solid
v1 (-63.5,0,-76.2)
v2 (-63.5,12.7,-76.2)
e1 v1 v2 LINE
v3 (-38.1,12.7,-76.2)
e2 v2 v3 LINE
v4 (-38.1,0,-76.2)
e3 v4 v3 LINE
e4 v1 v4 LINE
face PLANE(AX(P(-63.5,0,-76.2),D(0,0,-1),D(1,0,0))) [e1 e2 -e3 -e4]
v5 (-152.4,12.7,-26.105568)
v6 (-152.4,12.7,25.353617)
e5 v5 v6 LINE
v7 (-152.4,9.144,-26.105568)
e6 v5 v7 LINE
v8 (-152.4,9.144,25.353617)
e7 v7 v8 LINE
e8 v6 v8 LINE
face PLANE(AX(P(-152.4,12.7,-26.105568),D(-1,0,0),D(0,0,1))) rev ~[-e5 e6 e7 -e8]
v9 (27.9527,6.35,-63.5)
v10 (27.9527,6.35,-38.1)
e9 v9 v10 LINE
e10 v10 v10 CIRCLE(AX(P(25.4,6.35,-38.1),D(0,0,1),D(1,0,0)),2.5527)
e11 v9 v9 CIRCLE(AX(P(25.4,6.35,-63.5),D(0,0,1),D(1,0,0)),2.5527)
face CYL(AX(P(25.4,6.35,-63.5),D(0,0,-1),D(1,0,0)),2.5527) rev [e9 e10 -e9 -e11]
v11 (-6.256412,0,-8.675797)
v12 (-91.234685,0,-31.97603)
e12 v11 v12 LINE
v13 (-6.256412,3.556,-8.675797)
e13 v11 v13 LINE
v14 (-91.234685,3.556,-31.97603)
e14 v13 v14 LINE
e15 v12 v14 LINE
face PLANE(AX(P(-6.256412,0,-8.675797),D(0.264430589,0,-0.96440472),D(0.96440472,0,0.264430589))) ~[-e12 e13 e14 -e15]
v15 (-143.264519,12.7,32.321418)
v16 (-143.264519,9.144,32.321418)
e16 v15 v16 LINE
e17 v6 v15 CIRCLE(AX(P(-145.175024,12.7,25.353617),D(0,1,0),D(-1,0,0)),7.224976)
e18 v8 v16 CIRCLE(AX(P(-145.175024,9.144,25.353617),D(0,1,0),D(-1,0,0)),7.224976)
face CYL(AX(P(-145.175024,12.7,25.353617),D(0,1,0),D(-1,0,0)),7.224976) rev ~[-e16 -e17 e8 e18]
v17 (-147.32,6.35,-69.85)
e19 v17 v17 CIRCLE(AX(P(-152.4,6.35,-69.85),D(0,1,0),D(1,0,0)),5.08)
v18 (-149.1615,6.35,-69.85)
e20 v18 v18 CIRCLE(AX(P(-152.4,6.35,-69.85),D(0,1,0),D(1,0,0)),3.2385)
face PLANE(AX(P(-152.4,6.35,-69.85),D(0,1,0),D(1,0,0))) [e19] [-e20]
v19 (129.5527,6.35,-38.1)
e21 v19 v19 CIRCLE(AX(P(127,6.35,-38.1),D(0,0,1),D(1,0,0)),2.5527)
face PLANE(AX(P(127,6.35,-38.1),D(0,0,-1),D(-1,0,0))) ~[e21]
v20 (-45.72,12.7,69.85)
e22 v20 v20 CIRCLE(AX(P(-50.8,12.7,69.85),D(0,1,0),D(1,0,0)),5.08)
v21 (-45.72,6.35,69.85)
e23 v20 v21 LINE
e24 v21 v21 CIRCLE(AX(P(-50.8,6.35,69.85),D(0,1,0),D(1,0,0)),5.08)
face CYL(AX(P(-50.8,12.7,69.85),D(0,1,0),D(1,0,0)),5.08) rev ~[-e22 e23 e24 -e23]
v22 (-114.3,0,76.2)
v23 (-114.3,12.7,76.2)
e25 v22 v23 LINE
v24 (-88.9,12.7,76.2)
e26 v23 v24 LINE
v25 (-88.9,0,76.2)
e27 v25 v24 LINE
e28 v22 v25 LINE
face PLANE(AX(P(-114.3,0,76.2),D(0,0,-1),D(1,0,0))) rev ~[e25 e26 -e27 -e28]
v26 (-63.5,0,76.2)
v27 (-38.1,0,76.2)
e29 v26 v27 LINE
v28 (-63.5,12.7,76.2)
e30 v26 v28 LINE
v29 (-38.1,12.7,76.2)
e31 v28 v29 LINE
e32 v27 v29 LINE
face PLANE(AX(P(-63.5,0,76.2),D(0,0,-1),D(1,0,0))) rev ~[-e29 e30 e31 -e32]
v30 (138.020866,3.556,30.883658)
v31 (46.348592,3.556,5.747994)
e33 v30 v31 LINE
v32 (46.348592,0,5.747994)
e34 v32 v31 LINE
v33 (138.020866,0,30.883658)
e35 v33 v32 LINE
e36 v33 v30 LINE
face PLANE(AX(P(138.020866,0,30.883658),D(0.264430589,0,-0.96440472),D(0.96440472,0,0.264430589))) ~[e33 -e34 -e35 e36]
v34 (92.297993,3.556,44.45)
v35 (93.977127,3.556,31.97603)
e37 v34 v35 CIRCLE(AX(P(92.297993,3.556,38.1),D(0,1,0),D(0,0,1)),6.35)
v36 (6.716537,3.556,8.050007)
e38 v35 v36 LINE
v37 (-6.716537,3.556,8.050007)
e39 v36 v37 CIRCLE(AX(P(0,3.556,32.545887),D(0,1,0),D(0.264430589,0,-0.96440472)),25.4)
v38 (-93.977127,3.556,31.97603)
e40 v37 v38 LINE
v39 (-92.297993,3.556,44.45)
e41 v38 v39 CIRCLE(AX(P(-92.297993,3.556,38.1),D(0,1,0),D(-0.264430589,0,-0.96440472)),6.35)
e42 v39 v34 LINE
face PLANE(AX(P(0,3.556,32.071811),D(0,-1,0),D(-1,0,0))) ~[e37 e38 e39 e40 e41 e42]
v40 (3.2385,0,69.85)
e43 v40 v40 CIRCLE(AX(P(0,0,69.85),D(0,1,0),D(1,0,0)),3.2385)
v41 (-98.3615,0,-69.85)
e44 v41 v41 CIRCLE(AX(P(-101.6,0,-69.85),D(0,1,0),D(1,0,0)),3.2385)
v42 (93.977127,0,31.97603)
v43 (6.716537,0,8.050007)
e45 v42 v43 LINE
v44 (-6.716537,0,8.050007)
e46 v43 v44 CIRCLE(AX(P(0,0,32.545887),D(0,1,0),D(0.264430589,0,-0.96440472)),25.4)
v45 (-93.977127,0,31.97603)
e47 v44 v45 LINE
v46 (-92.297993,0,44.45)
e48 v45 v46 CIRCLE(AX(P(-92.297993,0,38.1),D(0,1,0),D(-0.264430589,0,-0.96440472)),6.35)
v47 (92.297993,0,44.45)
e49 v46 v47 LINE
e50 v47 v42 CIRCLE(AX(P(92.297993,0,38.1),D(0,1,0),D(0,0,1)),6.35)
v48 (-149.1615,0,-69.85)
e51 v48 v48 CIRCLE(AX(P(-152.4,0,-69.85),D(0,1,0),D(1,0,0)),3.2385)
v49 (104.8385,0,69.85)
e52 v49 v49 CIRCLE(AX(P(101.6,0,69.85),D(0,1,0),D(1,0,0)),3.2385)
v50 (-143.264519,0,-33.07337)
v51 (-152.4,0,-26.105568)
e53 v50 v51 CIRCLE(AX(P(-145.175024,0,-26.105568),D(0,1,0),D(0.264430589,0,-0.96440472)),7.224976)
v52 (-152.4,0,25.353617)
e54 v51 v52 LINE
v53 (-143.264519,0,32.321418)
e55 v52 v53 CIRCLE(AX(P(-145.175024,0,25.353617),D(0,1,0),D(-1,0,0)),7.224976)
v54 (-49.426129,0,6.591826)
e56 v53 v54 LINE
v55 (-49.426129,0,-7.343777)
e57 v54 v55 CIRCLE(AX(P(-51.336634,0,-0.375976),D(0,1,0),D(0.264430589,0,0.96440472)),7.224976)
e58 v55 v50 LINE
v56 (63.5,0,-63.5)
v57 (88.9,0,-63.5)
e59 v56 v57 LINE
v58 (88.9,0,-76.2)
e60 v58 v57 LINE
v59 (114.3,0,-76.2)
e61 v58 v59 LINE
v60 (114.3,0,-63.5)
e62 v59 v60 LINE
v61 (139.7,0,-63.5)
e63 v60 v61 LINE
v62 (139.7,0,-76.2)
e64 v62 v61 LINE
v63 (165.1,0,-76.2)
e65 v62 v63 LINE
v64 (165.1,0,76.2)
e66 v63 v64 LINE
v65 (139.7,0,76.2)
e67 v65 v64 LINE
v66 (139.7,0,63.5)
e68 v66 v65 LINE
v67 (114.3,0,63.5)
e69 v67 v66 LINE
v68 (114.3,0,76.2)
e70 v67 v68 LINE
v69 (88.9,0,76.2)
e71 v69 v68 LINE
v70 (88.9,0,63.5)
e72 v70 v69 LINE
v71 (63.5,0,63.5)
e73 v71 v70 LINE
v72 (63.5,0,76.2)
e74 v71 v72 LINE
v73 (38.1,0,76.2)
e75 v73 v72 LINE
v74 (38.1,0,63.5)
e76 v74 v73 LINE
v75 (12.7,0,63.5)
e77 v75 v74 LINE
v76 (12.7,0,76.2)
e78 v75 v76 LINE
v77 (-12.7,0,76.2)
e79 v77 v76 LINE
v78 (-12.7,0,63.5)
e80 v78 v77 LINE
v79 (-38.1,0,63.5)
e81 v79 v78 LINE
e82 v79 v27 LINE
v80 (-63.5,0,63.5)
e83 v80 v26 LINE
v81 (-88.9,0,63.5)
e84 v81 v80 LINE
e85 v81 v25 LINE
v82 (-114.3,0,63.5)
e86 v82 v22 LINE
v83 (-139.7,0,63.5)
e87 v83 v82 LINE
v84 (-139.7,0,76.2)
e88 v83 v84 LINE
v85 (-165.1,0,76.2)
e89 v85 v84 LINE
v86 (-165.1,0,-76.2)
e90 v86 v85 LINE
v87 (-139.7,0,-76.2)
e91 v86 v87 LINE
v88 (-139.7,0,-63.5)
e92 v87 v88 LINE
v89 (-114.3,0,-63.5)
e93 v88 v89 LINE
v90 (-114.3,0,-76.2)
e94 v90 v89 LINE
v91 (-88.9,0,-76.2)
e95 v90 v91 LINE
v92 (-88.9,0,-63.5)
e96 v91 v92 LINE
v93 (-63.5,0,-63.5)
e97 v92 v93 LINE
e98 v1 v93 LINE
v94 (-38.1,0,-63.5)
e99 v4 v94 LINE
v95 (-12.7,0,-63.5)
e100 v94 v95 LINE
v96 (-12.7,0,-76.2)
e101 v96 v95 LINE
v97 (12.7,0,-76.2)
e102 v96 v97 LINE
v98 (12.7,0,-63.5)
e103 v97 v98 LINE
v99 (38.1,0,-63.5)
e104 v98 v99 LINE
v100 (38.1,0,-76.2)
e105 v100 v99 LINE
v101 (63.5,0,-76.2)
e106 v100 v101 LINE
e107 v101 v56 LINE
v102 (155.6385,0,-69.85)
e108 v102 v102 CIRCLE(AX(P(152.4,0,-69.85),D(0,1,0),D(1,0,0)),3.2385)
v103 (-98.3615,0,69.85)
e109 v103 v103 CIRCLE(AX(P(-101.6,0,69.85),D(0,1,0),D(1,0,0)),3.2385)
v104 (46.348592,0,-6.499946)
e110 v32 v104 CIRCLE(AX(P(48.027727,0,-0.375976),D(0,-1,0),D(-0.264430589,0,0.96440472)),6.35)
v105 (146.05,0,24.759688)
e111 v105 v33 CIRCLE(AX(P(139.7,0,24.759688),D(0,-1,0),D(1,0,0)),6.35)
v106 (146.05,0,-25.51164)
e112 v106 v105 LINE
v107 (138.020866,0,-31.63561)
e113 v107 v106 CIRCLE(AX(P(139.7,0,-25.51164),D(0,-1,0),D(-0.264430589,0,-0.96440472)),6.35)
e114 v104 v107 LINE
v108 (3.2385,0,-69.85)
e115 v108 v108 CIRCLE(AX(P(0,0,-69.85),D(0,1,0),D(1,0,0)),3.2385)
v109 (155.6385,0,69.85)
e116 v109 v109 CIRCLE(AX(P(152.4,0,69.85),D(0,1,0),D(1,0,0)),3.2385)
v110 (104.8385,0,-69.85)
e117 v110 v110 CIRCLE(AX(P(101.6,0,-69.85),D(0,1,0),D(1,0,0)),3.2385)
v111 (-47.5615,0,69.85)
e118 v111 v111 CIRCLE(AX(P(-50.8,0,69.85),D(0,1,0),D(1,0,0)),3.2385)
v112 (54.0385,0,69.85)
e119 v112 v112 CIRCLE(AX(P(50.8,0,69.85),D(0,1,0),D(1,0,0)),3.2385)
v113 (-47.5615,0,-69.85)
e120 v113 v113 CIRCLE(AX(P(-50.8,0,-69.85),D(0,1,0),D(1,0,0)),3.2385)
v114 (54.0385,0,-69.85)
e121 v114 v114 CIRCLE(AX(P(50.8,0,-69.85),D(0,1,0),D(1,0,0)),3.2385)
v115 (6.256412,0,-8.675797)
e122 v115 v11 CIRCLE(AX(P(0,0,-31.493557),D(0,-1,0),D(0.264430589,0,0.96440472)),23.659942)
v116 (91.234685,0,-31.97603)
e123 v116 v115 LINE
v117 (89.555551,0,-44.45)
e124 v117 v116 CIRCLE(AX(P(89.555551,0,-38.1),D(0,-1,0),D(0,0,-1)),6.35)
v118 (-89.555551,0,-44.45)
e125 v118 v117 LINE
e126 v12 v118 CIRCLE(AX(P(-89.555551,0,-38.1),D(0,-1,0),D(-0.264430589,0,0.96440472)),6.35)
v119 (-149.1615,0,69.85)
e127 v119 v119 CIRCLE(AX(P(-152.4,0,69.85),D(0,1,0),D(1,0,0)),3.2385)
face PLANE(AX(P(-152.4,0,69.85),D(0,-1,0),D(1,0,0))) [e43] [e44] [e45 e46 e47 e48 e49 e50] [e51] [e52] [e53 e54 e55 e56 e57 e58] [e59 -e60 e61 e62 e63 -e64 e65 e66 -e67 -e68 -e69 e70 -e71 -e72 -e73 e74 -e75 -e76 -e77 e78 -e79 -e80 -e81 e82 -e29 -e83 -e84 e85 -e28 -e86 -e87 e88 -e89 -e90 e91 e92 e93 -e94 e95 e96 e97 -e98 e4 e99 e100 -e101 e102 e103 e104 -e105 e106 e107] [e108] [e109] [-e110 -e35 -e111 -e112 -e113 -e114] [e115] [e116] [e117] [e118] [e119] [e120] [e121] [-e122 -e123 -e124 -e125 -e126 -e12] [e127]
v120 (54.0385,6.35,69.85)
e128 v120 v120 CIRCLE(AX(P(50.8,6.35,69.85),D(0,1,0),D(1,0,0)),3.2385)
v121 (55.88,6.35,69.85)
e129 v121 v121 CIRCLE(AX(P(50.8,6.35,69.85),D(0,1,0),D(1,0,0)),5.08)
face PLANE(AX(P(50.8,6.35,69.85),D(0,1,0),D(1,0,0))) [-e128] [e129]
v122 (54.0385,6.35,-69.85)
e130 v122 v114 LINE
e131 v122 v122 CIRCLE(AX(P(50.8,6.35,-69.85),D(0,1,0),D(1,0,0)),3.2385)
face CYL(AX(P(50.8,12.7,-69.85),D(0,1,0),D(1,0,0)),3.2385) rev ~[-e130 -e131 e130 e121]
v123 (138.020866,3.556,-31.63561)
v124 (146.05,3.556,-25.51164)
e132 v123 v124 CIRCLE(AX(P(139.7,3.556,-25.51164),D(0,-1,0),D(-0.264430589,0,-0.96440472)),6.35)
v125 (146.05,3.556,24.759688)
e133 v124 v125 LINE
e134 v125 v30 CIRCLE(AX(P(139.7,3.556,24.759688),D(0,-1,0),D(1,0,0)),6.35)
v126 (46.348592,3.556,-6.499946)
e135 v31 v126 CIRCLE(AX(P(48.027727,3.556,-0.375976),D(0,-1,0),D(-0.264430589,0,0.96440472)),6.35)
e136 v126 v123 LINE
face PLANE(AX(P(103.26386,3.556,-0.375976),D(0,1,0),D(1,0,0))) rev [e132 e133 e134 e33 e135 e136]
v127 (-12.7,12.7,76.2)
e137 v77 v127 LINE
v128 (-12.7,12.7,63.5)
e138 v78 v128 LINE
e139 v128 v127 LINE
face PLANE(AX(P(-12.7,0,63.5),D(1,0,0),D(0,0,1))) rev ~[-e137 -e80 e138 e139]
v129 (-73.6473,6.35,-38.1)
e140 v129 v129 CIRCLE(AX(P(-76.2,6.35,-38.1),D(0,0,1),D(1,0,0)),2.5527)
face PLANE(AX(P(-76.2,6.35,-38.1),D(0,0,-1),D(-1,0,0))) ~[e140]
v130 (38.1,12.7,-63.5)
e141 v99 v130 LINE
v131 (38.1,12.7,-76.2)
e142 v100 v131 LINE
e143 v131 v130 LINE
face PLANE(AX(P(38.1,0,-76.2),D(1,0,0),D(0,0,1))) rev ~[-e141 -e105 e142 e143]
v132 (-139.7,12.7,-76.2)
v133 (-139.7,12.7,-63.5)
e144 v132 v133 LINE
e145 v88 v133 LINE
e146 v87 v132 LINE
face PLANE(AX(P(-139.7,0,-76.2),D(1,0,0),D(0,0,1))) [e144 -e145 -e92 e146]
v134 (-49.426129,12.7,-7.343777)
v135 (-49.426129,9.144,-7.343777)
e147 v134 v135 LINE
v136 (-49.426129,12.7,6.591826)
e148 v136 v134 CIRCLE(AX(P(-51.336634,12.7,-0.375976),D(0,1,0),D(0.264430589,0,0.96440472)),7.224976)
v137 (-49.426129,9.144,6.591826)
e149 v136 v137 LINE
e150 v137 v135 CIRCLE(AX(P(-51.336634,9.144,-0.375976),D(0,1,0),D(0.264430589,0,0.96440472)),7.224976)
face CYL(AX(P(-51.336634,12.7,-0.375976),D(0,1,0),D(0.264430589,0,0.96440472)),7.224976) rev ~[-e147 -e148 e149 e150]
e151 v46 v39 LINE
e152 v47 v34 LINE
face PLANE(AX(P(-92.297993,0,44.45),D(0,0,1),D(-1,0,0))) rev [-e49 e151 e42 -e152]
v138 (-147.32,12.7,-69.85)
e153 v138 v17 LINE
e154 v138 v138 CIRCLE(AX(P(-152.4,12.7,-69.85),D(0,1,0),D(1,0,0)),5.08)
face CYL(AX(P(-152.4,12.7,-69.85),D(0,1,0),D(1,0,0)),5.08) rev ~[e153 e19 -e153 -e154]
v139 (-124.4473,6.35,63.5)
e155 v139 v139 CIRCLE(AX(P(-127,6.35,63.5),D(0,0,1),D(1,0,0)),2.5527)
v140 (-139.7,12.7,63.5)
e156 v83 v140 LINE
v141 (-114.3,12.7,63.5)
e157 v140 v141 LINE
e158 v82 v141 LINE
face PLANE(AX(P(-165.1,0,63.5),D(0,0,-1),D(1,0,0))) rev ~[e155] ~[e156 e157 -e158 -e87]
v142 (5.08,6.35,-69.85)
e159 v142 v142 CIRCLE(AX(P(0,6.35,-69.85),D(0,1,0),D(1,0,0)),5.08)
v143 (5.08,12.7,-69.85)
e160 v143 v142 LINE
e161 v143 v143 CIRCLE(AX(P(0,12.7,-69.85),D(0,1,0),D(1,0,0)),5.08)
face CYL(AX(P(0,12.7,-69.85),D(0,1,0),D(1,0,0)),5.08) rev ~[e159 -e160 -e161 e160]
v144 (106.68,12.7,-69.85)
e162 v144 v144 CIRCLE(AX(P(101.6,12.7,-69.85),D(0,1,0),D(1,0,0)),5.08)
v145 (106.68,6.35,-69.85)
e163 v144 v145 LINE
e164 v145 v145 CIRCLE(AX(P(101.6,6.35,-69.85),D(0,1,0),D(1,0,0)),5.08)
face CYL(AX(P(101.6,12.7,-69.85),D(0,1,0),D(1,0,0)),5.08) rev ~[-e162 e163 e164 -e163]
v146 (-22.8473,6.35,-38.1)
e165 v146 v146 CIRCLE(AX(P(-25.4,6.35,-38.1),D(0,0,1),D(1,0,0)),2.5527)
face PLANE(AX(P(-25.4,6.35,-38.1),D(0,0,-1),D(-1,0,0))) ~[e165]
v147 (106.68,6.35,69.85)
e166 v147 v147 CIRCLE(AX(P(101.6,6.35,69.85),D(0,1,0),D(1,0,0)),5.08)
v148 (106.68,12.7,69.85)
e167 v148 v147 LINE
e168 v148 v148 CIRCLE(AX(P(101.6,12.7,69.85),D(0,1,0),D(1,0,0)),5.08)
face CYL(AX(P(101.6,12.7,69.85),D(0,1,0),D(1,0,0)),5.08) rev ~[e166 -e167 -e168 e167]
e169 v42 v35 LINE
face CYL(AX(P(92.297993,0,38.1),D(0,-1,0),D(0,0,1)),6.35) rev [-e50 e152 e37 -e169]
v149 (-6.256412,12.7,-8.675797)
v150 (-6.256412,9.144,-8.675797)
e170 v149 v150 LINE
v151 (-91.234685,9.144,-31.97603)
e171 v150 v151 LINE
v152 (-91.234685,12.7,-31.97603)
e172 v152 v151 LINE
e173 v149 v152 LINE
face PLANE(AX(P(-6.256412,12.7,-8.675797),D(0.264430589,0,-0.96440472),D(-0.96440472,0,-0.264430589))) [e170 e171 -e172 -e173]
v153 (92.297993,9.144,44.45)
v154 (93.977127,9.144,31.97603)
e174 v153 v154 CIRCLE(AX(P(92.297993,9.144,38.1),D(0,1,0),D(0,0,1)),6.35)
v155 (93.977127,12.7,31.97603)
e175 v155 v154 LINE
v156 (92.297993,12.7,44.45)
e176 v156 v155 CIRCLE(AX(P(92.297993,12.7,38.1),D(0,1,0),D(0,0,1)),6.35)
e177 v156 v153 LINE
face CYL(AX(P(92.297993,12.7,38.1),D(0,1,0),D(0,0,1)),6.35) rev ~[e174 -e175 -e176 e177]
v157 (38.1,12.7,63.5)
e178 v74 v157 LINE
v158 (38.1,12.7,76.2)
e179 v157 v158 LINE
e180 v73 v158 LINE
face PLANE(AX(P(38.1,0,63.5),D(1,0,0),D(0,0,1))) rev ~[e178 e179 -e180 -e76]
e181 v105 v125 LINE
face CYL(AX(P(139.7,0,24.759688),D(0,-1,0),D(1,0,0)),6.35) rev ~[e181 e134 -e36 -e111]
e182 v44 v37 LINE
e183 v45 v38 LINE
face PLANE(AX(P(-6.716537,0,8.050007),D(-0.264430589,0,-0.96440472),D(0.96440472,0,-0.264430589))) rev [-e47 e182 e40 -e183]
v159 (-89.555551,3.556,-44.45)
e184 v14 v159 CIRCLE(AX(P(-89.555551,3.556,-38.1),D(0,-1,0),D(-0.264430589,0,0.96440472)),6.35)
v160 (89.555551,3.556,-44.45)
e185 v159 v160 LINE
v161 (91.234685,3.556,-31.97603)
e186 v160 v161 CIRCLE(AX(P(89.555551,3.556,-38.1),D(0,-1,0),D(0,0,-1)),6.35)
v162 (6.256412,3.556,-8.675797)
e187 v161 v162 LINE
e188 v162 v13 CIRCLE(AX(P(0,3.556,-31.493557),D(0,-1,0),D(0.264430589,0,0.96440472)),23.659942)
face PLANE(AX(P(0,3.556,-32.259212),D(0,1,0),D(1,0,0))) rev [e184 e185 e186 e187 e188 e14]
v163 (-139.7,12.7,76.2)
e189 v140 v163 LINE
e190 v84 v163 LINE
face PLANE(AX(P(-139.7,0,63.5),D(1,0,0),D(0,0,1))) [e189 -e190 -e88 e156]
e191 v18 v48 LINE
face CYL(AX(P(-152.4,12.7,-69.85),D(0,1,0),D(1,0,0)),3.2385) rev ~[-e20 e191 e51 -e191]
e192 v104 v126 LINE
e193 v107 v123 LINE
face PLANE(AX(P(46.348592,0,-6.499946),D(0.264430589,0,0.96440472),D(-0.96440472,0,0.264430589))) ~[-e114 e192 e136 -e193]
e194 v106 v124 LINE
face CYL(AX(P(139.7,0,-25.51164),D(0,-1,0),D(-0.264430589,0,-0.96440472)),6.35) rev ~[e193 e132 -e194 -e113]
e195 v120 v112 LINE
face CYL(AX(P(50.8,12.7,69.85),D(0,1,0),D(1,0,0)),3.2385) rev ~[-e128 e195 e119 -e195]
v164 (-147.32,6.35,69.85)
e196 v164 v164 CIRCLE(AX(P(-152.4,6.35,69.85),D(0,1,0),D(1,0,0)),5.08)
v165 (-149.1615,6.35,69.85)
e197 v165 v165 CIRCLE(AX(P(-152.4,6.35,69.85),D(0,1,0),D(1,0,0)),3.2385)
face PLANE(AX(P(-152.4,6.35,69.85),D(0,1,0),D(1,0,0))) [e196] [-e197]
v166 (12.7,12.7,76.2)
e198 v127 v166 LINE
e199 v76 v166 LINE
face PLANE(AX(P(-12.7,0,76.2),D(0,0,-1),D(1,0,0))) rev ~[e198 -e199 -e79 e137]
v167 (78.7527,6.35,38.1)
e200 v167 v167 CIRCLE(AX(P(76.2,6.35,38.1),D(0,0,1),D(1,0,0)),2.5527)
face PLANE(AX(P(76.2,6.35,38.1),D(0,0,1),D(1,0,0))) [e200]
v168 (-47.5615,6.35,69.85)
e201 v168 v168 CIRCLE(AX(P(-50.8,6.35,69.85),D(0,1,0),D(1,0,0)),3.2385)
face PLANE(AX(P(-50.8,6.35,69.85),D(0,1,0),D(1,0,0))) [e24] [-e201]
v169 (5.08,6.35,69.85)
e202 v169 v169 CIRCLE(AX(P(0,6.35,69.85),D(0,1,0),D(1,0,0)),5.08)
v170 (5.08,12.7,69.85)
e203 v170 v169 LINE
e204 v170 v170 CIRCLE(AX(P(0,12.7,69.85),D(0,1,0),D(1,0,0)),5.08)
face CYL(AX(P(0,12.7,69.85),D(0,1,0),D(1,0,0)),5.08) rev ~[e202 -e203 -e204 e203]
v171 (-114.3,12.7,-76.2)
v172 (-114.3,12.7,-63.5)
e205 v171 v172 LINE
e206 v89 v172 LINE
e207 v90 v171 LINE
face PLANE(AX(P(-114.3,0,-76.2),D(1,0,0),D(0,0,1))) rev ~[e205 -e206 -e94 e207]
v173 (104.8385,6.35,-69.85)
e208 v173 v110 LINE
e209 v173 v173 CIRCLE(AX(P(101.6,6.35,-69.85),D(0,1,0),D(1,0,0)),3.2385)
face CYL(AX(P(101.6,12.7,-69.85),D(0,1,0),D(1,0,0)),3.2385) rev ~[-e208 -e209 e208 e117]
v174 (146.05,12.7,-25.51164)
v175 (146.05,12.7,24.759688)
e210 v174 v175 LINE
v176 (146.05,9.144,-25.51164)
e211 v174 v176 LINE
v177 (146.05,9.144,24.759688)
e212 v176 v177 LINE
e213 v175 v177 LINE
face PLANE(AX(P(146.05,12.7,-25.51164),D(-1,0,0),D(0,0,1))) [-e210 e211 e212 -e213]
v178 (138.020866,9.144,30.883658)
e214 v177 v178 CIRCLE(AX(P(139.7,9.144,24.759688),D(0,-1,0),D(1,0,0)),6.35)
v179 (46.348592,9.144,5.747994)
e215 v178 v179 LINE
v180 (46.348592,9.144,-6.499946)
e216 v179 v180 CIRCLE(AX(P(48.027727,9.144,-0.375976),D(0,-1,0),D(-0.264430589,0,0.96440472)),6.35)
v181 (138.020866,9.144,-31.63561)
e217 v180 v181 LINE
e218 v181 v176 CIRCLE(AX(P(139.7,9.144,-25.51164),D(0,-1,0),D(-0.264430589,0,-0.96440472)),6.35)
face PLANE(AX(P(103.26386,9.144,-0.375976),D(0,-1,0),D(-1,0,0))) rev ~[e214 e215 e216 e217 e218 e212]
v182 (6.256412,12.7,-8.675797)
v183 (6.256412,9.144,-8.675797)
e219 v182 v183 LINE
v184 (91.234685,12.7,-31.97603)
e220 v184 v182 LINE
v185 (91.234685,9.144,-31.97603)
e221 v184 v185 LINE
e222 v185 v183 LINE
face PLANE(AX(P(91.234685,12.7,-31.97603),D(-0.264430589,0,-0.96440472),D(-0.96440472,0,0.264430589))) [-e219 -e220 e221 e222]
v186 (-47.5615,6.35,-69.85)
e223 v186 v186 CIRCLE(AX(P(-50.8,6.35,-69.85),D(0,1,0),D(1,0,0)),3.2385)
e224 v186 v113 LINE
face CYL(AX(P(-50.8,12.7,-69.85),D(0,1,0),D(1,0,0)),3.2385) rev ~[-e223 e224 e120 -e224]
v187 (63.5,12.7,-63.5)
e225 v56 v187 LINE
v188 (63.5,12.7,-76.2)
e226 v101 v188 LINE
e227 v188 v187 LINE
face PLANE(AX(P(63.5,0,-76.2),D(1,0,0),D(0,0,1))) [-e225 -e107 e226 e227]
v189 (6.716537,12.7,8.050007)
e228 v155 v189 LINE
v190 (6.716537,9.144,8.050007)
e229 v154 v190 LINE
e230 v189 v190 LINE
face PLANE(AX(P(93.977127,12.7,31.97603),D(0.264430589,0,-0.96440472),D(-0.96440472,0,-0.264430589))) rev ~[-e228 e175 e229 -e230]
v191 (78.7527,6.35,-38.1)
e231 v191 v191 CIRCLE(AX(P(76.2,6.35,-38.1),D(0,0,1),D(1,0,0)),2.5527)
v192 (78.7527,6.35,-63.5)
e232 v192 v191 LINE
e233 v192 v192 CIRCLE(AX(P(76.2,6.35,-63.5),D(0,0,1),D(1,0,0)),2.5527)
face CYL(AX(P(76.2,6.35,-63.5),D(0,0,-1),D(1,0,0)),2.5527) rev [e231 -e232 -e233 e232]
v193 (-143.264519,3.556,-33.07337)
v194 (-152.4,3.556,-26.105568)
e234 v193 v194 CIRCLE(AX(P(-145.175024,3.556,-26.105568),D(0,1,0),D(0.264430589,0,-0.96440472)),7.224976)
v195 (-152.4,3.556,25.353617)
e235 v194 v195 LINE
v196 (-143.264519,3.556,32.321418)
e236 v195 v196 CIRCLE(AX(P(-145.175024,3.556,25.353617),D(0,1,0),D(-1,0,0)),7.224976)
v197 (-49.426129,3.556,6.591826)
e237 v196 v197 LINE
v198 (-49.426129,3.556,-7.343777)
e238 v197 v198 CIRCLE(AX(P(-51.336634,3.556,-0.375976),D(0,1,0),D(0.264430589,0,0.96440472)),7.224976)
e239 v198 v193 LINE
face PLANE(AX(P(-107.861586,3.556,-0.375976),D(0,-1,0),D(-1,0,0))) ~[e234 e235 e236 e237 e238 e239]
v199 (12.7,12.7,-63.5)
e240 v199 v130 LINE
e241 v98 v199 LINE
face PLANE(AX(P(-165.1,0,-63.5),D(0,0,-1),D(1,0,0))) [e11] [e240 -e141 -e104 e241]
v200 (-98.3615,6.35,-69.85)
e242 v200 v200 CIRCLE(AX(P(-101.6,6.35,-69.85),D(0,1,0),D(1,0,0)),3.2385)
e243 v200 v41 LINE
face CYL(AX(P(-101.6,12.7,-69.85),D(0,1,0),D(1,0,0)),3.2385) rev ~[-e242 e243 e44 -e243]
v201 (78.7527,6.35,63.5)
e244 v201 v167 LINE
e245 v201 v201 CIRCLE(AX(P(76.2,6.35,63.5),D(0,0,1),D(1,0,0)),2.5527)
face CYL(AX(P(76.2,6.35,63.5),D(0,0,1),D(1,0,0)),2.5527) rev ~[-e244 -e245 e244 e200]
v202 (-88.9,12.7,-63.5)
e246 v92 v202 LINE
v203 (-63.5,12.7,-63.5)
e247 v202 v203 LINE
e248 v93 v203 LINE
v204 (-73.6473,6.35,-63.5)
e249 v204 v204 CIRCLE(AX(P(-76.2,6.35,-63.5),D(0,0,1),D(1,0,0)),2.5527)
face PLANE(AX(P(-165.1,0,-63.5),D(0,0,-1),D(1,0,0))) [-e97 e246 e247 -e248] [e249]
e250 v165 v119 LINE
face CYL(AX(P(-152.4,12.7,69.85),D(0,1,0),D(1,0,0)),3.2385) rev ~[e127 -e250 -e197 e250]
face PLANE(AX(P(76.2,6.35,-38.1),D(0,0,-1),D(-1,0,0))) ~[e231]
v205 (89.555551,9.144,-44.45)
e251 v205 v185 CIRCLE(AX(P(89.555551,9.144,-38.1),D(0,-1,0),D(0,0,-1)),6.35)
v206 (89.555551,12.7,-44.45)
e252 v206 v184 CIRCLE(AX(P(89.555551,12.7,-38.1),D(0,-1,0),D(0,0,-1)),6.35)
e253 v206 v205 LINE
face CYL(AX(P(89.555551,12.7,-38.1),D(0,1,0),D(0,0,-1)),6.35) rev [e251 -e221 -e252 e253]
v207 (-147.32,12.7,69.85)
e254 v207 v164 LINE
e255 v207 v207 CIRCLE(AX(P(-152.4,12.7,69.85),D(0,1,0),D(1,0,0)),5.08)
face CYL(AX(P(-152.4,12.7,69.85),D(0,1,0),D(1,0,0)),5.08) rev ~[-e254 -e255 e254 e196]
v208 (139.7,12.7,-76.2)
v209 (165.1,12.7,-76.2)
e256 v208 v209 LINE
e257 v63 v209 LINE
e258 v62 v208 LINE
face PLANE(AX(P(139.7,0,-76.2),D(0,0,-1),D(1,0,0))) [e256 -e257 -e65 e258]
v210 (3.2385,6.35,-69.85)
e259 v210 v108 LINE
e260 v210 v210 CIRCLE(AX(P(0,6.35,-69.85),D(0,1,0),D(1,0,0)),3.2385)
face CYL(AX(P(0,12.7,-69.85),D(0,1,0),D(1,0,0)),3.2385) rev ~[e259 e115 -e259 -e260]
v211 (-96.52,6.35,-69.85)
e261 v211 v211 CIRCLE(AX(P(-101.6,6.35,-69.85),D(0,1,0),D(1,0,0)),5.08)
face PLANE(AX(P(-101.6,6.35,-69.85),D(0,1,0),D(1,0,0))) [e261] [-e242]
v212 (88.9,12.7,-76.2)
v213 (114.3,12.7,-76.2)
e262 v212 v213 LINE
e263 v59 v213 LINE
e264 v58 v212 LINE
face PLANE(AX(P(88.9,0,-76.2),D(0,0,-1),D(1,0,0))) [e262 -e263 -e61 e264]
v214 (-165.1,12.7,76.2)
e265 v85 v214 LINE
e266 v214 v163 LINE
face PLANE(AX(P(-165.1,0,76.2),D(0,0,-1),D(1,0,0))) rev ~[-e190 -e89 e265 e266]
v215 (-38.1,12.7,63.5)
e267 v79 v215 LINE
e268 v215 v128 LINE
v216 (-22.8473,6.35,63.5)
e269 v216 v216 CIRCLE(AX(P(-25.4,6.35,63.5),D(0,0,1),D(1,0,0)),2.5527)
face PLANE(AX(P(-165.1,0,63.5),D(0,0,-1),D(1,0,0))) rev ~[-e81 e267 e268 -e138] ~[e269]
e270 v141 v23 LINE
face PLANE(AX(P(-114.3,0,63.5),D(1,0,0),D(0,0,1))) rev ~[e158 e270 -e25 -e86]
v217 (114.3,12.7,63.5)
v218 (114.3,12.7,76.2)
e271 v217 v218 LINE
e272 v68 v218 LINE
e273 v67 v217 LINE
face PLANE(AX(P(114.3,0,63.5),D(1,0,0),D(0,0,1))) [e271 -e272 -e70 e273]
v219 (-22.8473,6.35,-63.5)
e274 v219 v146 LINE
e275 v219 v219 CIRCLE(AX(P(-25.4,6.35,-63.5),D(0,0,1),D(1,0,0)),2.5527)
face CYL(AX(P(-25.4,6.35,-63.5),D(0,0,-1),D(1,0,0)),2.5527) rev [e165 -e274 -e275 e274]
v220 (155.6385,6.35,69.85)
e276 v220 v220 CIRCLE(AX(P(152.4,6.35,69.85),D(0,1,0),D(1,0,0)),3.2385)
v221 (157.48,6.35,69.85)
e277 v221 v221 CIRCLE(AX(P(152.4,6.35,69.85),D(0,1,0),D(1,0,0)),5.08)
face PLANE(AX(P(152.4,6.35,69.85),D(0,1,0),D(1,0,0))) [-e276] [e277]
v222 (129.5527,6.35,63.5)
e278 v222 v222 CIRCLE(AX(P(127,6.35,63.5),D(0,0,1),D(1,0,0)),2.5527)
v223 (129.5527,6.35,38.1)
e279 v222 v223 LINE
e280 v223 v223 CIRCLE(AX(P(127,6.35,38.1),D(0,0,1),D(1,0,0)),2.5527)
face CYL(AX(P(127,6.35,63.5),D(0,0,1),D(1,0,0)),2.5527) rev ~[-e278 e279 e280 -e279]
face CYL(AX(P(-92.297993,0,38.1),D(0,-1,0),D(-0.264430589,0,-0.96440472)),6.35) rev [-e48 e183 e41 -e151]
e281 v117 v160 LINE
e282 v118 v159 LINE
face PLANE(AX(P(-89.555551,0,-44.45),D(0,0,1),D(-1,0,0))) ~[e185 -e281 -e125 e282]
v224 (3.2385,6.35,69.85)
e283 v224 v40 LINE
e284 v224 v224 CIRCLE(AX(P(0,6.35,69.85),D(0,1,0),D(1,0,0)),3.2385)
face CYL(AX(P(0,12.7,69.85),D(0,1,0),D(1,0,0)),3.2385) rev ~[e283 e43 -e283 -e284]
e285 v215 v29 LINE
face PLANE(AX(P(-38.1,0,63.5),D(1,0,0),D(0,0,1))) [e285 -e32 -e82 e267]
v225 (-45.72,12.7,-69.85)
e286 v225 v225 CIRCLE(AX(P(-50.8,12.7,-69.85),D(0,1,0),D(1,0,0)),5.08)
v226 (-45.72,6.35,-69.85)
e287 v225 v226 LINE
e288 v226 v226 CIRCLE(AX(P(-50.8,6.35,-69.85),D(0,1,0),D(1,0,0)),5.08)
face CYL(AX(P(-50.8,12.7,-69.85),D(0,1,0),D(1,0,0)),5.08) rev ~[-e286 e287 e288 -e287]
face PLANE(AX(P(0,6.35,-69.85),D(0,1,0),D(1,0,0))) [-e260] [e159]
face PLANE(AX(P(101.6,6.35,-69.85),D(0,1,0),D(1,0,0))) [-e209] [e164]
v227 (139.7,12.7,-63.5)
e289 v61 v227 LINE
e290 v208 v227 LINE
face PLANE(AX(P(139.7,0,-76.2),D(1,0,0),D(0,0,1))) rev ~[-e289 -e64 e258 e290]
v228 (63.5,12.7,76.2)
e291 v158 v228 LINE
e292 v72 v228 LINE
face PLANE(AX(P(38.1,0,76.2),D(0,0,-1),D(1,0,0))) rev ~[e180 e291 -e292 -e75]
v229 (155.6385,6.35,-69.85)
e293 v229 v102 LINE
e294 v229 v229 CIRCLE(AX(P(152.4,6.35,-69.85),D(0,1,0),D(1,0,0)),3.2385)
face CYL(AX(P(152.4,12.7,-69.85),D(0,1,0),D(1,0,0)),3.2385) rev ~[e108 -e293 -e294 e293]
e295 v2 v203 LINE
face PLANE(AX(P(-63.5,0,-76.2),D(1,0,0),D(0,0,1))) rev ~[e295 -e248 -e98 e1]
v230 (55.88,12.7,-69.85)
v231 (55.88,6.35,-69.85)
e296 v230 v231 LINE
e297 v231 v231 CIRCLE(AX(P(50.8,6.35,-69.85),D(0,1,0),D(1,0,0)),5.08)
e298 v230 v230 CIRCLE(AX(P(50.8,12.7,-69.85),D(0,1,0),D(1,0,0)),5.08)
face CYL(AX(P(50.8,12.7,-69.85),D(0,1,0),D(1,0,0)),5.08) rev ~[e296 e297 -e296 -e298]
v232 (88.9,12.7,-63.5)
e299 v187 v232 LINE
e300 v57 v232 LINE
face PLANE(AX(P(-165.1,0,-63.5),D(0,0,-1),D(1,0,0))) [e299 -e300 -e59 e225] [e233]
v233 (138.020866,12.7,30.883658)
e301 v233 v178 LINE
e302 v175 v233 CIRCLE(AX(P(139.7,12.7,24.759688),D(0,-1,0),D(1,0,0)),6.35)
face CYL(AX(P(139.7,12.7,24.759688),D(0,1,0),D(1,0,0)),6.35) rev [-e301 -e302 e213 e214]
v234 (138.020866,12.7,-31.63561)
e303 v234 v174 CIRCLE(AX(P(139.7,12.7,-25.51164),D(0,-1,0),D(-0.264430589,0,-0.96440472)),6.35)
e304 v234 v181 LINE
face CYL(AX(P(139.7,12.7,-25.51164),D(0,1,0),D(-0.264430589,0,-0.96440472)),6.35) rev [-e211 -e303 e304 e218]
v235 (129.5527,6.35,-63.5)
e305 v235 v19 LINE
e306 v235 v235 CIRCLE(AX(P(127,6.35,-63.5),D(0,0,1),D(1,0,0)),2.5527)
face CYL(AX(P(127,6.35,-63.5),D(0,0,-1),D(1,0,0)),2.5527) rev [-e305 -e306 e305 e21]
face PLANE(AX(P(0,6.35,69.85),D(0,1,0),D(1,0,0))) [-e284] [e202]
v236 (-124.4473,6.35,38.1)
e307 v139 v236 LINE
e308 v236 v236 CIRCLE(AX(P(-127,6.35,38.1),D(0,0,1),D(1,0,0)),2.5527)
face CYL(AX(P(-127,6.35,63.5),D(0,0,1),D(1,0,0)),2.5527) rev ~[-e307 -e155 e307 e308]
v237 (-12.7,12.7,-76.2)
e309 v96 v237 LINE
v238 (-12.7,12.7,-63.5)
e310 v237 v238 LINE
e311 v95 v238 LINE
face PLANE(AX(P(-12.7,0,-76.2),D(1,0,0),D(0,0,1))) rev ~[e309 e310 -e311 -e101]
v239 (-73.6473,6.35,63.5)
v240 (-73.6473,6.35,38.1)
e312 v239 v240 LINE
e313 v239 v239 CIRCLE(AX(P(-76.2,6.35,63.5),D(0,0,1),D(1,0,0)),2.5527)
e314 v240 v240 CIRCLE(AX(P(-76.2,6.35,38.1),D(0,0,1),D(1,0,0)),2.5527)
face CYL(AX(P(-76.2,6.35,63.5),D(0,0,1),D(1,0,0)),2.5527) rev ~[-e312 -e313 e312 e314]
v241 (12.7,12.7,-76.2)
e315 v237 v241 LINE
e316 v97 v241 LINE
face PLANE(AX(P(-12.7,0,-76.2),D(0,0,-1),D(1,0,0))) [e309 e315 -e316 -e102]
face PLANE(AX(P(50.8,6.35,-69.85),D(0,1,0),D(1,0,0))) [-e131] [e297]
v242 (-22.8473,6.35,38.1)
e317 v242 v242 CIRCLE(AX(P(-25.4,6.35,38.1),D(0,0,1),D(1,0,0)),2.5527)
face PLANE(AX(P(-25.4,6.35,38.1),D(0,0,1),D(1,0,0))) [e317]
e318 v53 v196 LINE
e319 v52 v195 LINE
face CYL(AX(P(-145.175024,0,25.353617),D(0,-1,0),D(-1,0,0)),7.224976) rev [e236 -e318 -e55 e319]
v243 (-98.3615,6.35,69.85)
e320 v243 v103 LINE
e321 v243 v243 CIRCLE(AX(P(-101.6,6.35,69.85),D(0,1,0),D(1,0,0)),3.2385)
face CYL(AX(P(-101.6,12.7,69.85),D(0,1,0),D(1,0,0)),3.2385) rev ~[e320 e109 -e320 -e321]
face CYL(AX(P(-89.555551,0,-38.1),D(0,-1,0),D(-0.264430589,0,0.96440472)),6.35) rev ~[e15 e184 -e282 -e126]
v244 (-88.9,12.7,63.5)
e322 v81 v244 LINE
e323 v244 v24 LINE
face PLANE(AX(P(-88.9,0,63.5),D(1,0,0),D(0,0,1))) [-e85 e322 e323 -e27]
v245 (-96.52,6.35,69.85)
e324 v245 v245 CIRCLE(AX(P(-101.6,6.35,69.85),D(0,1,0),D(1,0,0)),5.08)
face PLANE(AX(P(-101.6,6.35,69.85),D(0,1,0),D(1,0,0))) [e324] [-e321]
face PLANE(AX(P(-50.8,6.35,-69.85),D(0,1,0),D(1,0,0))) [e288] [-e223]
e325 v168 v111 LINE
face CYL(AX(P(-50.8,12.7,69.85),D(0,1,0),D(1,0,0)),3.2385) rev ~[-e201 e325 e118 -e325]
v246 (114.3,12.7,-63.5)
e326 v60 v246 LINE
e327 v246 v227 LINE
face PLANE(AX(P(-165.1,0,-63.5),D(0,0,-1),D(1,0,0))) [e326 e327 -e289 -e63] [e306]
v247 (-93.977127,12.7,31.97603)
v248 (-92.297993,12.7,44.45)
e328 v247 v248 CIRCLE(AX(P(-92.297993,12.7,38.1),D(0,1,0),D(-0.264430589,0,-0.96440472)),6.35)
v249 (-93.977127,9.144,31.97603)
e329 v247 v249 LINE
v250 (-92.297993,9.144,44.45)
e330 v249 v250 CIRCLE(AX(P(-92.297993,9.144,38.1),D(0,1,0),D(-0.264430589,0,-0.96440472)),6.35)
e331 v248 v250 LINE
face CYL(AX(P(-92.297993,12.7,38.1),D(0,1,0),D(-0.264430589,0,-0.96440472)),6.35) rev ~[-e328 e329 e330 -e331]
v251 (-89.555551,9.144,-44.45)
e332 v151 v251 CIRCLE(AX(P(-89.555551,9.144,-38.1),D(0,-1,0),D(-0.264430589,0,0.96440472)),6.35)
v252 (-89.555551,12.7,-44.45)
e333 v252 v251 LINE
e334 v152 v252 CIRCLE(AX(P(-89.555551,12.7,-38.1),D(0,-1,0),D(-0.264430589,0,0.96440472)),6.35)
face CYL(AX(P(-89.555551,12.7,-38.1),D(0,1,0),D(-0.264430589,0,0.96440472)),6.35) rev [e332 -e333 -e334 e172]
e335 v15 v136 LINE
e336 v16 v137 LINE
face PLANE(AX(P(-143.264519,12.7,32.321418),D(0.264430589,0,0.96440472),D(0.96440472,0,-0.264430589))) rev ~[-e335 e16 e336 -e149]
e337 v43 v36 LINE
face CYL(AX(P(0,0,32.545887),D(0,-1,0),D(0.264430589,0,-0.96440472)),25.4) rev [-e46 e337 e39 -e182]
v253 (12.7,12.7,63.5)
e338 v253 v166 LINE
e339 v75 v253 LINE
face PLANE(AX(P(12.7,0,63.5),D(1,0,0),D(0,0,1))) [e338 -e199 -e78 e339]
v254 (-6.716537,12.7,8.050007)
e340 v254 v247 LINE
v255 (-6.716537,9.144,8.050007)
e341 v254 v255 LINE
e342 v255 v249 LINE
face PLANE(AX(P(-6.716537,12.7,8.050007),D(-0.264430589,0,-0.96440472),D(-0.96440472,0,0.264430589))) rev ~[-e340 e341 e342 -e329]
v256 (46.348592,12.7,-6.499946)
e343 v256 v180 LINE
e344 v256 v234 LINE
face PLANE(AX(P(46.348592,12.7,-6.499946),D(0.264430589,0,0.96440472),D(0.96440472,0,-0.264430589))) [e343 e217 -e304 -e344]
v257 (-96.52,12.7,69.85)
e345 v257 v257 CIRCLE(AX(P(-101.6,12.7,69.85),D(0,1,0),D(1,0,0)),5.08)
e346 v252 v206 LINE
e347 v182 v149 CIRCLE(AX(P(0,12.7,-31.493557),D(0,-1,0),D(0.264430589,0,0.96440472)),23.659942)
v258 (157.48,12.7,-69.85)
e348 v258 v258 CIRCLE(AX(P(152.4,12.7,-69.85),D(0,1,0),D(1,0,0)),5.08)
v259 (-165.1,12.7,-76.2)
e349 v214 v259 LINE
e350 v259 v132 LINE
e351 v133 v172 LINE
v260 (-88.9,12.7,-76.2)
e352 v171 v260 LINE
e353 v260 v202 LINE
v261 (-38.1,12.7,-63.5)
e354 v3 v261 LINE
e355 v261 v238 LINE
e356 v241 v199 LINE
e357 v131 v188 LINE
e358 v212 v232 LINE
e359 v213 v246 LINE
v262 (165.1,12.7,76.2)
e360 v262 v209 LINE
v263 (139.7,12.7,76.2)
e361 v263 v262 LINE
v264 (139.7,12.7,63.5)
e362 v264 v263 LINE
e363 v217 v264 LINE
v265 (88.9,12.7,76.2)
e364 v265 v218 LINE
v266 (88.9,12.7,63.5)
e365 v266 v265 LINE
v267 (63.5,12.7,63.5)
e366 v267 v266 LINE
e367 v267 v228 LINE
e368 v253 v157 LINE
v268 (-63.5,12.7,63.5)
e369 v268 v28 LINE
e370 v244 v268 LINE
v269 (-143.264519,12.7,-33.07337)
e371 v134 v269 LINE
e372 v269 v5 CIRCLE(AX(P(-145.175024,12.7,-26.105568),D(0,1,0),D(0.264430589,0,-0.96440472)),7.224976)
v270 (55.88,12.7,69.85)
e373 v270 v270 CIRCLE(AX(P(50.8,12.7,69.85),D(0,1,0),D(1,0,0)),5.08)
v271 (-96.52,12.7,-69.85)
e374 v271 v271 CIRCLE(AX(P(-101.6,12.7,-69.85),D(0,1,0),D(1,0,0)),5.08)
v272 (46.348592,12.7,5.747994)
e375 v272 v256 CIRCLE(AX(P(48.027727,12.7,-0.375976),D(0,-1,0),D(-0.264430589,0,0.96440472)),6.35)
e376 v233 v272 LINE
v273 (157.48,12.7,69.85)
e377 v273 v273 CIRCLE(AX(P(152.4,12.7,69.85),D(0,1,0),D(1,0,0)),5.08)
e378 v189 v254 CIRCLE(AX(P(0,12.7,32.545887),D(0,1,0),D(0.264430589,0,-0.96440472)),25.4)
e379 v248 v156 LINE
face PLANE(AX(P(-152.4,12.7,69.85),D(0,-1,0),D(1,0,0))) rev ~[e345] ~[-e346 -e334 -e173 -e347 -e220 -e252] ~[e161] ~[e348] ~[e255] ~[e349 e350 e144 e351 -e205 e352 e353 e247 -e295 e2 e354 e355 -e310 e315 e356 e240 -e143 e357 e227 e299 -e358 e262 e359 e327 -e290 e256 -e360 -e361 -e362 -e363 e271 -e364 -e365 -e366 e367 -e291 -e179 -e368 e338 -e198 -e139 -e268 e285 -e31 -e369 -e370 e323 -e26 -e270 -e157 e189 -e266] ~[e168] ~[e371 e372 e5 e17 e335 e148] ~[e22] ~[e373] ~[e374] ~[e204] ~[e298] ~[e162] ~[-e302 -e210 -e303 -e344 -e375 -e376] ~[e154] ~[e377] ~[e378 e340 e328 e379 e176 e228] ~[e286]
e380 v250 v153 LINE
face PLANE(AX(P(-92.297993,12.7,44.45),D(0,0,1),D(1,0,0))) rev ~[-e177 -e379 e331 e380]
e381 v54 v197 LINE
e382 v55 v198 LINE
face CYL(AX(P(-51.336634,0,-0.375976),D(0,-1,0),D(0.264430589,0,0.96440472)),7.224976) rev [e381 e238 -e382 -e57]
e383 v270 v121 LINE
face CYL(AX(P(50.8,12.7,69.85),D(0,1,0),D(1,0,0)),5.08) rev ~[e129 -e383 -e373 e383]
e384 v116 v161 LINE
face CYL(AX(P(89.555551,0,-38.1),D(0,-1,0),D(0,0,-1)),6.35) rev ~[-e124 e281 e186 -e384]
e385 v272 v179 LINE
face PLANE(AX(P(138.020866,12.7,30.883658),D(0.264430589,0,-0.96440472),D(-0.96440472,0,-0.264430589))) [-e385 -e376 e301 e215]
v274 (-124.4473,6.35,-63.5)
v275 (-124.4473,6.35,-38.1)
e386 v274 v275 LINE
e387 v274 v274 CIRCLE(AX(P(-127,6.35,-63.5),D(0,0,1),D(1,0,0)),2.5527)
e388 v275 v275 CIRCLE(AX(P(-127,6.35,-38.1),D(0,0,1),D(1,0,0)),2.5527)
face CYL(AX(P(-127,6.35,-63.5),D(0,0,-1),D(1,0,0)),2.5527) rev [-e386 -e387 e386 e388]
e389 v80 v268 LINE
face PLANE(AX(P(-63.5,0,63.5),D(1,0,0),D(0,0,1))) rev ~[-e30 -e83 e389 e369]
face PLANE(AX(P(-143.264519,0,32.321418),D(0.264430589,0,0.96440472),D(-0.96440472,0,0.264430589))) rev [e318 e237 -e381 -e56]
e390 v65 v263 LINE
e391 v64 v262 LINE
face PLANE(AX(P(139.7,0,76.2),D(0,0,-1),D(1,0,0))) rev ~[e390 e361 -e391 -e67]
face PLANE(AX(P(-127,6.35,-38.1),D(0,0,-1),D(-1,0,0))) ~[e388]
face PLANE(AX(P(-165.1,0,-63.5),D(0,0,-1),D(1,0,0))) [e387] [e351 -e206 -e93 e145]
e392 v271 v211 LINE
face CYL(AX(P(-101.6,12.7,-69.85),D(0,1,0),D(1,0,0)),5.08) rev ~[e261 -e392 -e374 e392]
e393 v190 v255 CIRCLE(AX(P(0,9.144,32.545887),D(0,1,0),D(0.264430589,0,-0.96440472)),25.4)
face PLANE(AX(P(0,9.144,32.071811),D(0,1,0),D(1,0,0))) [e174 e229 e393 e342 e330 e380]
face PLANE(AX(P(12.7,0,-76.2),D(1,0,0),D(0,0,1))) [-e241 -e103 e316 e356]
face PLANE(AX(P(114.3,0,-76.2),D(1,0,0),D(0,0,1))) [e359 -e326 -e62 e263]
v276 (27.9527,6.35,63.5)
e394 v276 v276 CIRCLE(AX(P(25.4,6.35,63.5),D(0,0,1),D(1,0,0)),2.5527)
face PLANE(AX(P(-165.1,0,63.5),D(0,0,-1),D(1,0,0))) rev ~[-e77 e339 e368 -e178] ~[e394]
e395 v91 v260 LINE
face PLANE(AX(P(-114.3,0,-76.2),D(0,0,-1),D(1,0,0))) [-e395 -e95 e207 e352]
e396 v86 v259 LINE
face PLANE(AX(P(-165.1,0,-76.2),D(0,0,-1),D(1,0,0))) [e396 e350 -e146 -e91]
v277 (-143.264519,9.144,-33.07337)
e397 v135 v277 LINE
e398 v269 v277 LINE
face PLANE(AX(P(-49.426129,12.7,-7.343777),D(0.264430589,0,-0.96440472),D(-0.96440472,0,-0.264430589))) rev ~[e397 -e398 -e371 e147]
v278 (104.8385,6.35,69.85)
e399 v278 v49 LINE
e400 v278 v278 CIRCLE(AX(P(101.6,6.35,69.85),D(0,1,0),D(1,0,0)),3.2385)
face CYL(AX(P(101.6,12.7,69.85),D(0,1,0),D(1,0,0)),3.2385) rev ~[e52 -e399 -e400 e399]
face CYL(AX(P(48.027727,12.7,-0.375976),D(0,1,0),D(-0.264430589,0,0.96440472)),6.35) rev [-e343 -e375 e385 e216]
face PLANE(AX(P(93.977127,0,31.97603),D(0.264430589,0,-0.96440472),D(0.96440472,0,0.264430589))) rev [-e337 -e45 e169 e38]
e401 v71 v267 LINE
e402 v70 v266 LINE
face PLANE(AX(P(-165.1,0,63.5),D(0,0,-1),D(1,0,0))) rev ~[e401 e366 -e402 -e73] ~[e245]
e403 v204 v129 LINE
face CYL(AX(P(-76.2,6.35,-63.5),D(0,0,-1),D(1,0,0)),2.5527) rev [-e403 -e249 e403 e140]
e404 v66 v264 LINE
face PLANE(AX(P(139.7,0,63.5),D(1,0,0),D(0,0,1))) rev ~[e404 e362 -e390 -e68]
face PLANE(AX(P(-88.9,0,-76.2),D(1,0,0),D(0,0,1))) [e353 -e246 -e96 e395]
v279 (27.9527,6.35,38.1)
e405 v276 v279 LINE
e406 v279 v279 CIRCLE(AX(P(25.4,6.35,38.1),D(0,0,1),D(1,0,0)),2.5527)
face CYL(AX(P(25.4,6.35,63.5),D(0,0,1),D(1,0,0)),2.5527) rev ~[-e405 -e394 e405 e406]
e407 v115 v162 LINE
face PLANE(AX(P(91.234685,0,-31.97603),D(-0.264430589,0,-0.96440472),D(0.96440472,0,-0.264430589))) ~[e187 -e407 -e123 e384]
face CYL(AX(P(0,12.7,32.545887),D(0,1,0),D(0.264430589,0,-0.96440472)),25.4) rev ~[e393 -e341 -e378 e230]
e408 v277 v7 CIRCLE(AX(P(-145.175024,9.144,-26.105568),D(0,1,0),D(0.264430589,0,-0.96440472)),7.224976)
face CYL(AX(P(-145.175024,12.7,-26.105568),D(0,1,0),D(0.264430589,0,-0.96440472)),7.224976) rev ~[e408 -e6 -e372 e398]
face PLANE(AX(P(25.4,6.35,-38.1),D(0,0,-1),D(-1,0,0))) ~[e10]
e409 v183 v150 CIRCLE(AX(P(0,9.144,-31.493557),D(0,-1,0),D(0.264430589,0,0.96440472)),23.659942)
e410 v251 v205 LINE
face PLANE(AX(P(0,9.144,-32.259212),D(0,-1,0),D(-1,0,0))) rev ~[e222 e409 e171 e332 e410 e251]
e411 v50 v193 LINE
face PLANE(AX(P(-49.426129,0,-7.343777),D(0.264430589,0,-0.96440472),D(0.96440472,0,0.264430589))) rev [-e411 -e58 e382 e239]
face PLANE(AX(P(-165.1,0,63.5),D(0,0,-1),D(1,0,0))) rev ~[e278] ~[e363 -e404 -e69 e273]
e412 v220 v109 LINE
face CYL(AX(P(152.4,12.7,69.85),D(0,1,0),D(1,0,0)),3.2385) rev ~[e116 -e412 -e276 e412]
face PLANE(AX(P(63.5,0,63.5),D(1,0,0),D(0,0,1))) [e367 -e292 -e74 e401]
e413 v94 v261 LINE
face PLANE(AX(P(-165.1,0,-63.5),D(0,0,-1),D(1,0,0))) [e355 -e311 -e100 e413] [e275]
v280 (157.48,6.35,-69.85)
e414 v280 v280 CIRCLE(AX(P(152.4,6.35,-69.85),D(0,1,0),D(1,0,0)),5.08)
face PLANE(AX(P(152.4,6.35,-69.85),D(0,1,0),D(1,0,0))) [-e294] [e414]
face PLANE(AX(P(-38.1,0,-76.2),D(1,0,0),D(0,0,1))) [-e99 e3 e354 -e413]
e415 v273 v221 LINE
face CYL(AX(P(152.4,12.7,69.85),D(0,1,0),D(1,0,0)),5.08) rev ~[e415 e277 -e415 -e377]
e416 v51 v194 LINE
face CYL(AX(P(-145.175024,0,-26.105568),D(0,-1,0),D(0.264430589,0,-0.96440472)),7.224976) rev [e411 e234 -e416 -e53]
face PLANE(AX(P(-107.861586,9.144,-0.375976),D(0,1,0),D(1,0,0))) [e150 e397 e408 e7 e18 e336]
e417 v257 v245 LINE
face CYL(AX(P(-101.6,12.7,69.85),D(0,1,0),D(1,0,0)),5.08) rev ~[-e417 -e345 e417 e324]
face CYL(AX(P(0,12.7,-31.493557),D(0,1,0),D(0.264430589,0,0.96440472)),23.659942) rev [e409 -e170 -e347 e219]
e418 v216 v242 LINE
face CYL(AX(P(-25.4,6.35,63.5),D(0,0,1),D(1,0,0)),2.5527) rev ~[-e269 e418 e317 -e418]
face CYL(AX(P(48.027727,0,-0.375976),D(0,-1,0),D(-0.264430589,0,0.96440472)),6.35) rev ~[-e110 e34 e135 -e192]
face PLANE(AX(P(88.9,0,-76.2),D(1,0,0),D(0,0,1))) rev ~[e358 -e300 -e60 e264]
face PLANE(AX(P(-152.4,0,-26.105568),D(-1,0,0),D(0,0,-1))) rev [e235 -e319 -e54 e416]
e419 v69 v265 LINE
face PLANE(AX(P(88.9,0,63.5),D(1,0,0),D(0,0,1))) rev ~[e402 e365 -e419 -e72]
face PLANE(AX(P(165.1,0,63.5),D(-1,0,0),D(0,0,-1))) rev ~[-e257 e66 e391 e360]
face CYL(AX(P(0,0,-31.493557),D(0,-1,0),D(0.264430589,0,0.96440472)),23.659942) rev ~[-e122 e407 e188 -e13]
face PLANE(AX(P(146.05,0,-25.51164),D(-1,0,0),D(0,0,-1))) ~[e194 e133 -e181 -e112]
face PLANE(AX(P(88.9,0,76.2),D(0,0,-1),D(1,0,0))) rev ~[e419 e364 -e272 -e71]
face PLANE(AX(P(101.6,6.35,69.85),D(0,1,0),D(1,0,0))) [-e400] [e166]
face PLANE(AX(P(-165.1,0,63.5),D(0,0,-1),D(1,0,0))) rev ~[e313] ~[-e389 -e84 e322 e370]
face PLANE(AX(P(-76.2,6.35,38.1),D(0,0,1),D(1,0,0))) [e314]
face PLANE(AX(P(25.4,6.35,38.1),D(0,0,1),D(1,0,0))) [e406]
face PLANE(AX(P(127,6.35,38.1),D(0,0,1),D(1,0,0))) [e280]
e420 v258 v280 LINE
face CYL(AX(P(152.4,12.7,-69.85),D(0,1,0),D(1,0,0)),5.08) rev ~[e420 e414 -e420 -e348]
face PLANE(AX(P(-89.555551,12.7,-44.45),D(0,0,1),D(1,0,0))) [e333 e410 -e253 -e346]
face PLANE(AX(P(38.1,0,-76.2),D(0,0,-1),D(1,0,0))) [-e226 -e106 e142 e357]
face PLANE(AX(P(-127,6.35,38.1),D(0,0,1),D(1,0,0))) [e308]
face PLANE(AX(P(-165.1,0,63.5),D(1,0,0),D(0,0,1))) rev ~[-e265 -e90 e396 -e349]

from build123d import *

# Parameters (mm, degrees)
SKETCH1_W           = 330.2
SKETCH1_H           = 127
BOSS_EXTRUDE1_DEPTH = 12.7
CUT_EXTRUDE1_DEPTH  = 3.556
SKETCH3_W           = 25.4
SKETCH3_H           = 12.7
BOSS_EXTRUDE2_DEPTH = 12.7
SKETCH4_R           = 3.2385
CUT_EXTRUDE2_DEPTH  = 25.4
SKETCH5_R           = 5.08
CUT_EXTRUDE3_DEPTH  = 6.35
SKETCH6_R           = 2.5527
CUT_EXTRUDE4_DEPTH  = 25.4


with BuildPart() as part:
    # Sketch1 → Boss-Extrude1 (new body)
    with BuildSketch(Plane(origin=(0, 0, 0), x_dir=(1, 0, 0), z_dir=(0, 1, 0))):
        Rectangle(SKETCH1_W, SKETCH1_H)
    extrude(amount=BOSS_EXTRUDE1_DEPTH)

    # Sketch2 → Cut-Extrude1 (cut)
    with BuildSketch(Plane(origin=(0, 12.7, 0), x_dir=(1, 0, 0), z_dir=(0, 1, 0))):
        with BuildLine():
            Line((-89.555550869, 44.45), (89.555550869, 44.45))
            ThreePointArc((89.555550869, 44.45), (95.848789674, 38.947139505), (91.234685107, 31.976030029))
            Line((91.234685107, 31.976030029), (6.256412404, 8.675797038))
            ThreePointArc((6.256412404, 8.675797038), (0, 7.833614774), (-6.256412404, 8.675797038))
            Line((-6.256412404, 8.675797038), (-91.234685107, 31.976030029))
            ThreePointArc((-91.234685107, 31.976030029), (-95.848789674, 38.947139505), (-89.555550869, 44.45))
        make_face()
        with BuildLine():
            Line((-152.4, 26.105568393), (-152.4, -25.353616872))
            ThreePointArc((-152.4, -25.353616872), (-149.556629033, -31.098337724), (-143.26451887, -32.321418189))
            Line((-143.26451887, -32.321418189), (-49.42612935, -6.591825556))
            ThreePointArc((-49.42612935, -6.591825556), (-44.111657731, 0.375975761), (-49.42612935, 7.343777077))
            Line((-49.42612935, 7.343777077), (-143.26451887, 33.07336971))
            ThreePointArc((-143.26451887, 33.07336971), (-149.556629033, 31.850289245), (-152.4, 26.105568393))
        make_face()
        with BuildLine():
            Line((-92.297993035, -44.45), (92.297993035, -44.45))
            ThreePointArc((92.297993035, -44.45), (98.59123184, -38.947139505), (93.977127273, -31.976030029))
            Line((93.977127273, -31.976030029), (6.716536951, -8.050007285))
            ThreePointArc((6.716536951, -8.050007285), (0, -7.145887171), (-6.716536951, -8.050007285))
            Line((-6.716536951, -8.050007285), (-93.977127273, -31.976030029))
            ThreePointArc((-93.977127273, -31.976030029), (-98.59123184, -38.947139505), (-92.297993035, -44.45))
        make_face()
        with BuildLine():
            Line((146.05, 25.51164), (146.05, -24.759688479))
            ThreePointArc((146.05, -24.759688479), (143.550973746, -29.808698402), (138.020865762, -30.88365845))
            Line((138.020865762, -30.88365845), (46.348592305, -5.747994211))
            ThreePointArc((46.348592305, -5.747994211), (41.677726543, 0.375975761), (46.348592305, 6.499945732))
            Line((46.348592305, 6.499945732), (138.020865762, 31.635609971))
            ThreePointArc((138.020865762, 31.635609971), (143.550973746, 30.560649923), (146.05, 25.51164))
        make_face()
    cut_extrude1 = extrude(amount=-CUT_EXTRUDE1_DEPTH, mode=Mode.SUBTRACT)

    # Sketch3 → Boss-Extrude2 (add)
    with BuildSketch(Plane.XZ):
        with Locations((-101.6, 69.85)):
            Rectangle(SKETCH3_W, SKETCH3_H)
        with Locations((-152.4, 69.85)):
            Rectangle(SKETCH3_W, SKETCH3_H)
        with Locations((-50.8, 69.85)):
            Rectangle(SKETCH3_W, SKETCH3_H)
        with Locations((0, 69.85)):
            Rectangle(SKETCH3_W, SKETCH3_H)
        with Locations((50.8, 69.85)):
            Rectangle(SKETCH3_W, SKETCH3_H)
        with Locations((101.6, 69.85)):
            Rectangle(SKETCH3_W, SKETCH3_H)
        with Locations((152.4, 69.85)):
            Rectangle(SKETCH3_W, SKETCH3_H)
        with Locations((-101.6, -69.85)):
            Rectangle(SKETCH3_W, SKETCH3_H)
        with Locations((-50.8, -69.85)):
            Rectangle(SKETCH3_W, SKETCH3_H)
        with Locations((0, -69.85)):
            Rectangle(SKETCH3_W, SKETCH3_H)
        with Locations((50.8, -69.85)):
            Rectangle(SKETCH3_W, SKETCH3_H)
        with Locations((101.6, -69.85)):
            Rectangle(SKETCH3_W, SKETCH3_H)
        with Locations((152.4, -69.85)):
            Rectangle(SKETCH3_W, SKETCH3_H)
        with Locations((-152.4, -69.85)):
            Rectangle(SKETCH3_W, SKETCH3_H)
    extrude(amount=-BOSS_EXTRUDE2_DEPTH)

    # Sketch4 → Cut-Extrude2 (cut)
    with BuildSketch(Plane(origin=(0, 12.7, 0), x_dir=(1, 0, 0), z_dir=(0, 1, 0))):
        with Locations((-152.4, 69.85)):
            Circle(SKETCH4_R)
        with Locations((-101.6, 69.85)):
            Circle(SKETCH4_R)
        with Locations((-50.8, 69.85)):
            Circle(SKETCH4_R)
        with Locations((0, 69.85)):
            Circle(SKETCH4_R)
        with Locations((50.8, 69.85)):
            Circle(SKETCH4_R)
        with Locations((101.6, 69.85)):
            Circle(SKETCH4_R)
        with Locations((152.4, 69.85)):
            Circle(SKETCH4_R)
        with Locations((-101.6, -69.85)):
            Circle(SKETCH4_R)
        with Locations((-50.8, -69.85)):
            Circle(SKETCH4_R)
        with Locations((0, -69.85)):
            Circle(SKETCH4_R)
        with Locations((50.8, -69.85)):
            Circle(SKETCH4_R)
        with Locations((101.6, -69.85)):
            Circle(SKETCH4_R)
        with Locations((152.4, -69.85)):
            Circle(SKETCH4_R)
        with Locations((-152.4, -69.85)):
            Circle(SKETCH4_R)
    extrude(amount=-CUT_EXTRUDE2_DEPTH, mode=Mode.SUBTRACT)

    # Sketch5 → Cut-Extrude3 (cut)
    with BuildSketch(Plane(origin=(0, 12.7, 0), x_dir=(1, 0, 0), z_dir=(0, 1, 0))):
        with Locations((-152.4, 69.85)):
            Circle(SKETCH5_R)
        with Locations((-101.6, 69.85)):
            Circle(SKETCH5_R)
        with Locations((-50.8, 69.85)):
            Circle(SKETCH5_R)
        with Locations((0, 69.85)):
            Circle(SKETCH5_R)
        with Locations((50.8, 69.85)):
            Circle(SKETCH5_R)
        with Locations((101.6, 69.85)):
            Circle(SKETCH5_R)
        with Locations((152.4, 69.85)):
            Circle(SKETCH5_R)
        with Locations((-101.6, -69.85)):
            Circle(SKETCH5_R)
        with Locations((-50.8, -69.85)):
            Circle(SKETCH5_R)
        with Locations((0, -69.85)):
            Circle(SKETCH5_R)
        with Locations((50.8, -69.85)):
            Circle(SKETCH5_R)
        with Locations((101.6, -69.85)):
            Circle(SKETCH5_R)
        with Locations((152.4, -69.85)):
            Circle(SKETCH5_R)
        with Locations((-152.4, -69.85)):
            Circle(SKETCH5_R)
    extrude(amount=-CUT_EXTRUDE3_DEPTH, mode=Mode.SUBTRACT)

    # Sketch6 → Cut-Extrude4 (cut)
    with BuildSketch(Plane.XY.offset(63.5)):
        with Locations((-127, 6.35)):
            Circle(SKETCH6_R)
        with Locations((-76.2, 6.35)):
            Circle(SKETCH6_R)
        with Locations((-25.4, 6.35)):
            Circle(SKETCH6_R)
        with Locations((25.4, 6.35)):
            Circle(SKETCH6_R)
        with Locations((76.2, 6.35)):
            Circle(SKETCH6_R)
        with Locations((127, 6.35)):
            Circle(SKETCH6_R)
    cut_extrude4 = extrude(amount=-CUT_EXTRUDE4_DEPTH, mode=Mode.SUBTRACT)

    # Mirror1: Cut-Extrude4 across plane
    add(cut_extrude4.mirror(Plane(origin=(0, 0, 0), x_dir=(1, 0, 0), z_dir=(0, 0, -1))), mode=Mode.SUBTRACT)

    # Mirror2: Cut-Extrude1 across plane
    add(cut_extrude1.mirror(Plane.ZX.offset(6.35)), mode=Mode.SUBTRACT)


solid = part.part
